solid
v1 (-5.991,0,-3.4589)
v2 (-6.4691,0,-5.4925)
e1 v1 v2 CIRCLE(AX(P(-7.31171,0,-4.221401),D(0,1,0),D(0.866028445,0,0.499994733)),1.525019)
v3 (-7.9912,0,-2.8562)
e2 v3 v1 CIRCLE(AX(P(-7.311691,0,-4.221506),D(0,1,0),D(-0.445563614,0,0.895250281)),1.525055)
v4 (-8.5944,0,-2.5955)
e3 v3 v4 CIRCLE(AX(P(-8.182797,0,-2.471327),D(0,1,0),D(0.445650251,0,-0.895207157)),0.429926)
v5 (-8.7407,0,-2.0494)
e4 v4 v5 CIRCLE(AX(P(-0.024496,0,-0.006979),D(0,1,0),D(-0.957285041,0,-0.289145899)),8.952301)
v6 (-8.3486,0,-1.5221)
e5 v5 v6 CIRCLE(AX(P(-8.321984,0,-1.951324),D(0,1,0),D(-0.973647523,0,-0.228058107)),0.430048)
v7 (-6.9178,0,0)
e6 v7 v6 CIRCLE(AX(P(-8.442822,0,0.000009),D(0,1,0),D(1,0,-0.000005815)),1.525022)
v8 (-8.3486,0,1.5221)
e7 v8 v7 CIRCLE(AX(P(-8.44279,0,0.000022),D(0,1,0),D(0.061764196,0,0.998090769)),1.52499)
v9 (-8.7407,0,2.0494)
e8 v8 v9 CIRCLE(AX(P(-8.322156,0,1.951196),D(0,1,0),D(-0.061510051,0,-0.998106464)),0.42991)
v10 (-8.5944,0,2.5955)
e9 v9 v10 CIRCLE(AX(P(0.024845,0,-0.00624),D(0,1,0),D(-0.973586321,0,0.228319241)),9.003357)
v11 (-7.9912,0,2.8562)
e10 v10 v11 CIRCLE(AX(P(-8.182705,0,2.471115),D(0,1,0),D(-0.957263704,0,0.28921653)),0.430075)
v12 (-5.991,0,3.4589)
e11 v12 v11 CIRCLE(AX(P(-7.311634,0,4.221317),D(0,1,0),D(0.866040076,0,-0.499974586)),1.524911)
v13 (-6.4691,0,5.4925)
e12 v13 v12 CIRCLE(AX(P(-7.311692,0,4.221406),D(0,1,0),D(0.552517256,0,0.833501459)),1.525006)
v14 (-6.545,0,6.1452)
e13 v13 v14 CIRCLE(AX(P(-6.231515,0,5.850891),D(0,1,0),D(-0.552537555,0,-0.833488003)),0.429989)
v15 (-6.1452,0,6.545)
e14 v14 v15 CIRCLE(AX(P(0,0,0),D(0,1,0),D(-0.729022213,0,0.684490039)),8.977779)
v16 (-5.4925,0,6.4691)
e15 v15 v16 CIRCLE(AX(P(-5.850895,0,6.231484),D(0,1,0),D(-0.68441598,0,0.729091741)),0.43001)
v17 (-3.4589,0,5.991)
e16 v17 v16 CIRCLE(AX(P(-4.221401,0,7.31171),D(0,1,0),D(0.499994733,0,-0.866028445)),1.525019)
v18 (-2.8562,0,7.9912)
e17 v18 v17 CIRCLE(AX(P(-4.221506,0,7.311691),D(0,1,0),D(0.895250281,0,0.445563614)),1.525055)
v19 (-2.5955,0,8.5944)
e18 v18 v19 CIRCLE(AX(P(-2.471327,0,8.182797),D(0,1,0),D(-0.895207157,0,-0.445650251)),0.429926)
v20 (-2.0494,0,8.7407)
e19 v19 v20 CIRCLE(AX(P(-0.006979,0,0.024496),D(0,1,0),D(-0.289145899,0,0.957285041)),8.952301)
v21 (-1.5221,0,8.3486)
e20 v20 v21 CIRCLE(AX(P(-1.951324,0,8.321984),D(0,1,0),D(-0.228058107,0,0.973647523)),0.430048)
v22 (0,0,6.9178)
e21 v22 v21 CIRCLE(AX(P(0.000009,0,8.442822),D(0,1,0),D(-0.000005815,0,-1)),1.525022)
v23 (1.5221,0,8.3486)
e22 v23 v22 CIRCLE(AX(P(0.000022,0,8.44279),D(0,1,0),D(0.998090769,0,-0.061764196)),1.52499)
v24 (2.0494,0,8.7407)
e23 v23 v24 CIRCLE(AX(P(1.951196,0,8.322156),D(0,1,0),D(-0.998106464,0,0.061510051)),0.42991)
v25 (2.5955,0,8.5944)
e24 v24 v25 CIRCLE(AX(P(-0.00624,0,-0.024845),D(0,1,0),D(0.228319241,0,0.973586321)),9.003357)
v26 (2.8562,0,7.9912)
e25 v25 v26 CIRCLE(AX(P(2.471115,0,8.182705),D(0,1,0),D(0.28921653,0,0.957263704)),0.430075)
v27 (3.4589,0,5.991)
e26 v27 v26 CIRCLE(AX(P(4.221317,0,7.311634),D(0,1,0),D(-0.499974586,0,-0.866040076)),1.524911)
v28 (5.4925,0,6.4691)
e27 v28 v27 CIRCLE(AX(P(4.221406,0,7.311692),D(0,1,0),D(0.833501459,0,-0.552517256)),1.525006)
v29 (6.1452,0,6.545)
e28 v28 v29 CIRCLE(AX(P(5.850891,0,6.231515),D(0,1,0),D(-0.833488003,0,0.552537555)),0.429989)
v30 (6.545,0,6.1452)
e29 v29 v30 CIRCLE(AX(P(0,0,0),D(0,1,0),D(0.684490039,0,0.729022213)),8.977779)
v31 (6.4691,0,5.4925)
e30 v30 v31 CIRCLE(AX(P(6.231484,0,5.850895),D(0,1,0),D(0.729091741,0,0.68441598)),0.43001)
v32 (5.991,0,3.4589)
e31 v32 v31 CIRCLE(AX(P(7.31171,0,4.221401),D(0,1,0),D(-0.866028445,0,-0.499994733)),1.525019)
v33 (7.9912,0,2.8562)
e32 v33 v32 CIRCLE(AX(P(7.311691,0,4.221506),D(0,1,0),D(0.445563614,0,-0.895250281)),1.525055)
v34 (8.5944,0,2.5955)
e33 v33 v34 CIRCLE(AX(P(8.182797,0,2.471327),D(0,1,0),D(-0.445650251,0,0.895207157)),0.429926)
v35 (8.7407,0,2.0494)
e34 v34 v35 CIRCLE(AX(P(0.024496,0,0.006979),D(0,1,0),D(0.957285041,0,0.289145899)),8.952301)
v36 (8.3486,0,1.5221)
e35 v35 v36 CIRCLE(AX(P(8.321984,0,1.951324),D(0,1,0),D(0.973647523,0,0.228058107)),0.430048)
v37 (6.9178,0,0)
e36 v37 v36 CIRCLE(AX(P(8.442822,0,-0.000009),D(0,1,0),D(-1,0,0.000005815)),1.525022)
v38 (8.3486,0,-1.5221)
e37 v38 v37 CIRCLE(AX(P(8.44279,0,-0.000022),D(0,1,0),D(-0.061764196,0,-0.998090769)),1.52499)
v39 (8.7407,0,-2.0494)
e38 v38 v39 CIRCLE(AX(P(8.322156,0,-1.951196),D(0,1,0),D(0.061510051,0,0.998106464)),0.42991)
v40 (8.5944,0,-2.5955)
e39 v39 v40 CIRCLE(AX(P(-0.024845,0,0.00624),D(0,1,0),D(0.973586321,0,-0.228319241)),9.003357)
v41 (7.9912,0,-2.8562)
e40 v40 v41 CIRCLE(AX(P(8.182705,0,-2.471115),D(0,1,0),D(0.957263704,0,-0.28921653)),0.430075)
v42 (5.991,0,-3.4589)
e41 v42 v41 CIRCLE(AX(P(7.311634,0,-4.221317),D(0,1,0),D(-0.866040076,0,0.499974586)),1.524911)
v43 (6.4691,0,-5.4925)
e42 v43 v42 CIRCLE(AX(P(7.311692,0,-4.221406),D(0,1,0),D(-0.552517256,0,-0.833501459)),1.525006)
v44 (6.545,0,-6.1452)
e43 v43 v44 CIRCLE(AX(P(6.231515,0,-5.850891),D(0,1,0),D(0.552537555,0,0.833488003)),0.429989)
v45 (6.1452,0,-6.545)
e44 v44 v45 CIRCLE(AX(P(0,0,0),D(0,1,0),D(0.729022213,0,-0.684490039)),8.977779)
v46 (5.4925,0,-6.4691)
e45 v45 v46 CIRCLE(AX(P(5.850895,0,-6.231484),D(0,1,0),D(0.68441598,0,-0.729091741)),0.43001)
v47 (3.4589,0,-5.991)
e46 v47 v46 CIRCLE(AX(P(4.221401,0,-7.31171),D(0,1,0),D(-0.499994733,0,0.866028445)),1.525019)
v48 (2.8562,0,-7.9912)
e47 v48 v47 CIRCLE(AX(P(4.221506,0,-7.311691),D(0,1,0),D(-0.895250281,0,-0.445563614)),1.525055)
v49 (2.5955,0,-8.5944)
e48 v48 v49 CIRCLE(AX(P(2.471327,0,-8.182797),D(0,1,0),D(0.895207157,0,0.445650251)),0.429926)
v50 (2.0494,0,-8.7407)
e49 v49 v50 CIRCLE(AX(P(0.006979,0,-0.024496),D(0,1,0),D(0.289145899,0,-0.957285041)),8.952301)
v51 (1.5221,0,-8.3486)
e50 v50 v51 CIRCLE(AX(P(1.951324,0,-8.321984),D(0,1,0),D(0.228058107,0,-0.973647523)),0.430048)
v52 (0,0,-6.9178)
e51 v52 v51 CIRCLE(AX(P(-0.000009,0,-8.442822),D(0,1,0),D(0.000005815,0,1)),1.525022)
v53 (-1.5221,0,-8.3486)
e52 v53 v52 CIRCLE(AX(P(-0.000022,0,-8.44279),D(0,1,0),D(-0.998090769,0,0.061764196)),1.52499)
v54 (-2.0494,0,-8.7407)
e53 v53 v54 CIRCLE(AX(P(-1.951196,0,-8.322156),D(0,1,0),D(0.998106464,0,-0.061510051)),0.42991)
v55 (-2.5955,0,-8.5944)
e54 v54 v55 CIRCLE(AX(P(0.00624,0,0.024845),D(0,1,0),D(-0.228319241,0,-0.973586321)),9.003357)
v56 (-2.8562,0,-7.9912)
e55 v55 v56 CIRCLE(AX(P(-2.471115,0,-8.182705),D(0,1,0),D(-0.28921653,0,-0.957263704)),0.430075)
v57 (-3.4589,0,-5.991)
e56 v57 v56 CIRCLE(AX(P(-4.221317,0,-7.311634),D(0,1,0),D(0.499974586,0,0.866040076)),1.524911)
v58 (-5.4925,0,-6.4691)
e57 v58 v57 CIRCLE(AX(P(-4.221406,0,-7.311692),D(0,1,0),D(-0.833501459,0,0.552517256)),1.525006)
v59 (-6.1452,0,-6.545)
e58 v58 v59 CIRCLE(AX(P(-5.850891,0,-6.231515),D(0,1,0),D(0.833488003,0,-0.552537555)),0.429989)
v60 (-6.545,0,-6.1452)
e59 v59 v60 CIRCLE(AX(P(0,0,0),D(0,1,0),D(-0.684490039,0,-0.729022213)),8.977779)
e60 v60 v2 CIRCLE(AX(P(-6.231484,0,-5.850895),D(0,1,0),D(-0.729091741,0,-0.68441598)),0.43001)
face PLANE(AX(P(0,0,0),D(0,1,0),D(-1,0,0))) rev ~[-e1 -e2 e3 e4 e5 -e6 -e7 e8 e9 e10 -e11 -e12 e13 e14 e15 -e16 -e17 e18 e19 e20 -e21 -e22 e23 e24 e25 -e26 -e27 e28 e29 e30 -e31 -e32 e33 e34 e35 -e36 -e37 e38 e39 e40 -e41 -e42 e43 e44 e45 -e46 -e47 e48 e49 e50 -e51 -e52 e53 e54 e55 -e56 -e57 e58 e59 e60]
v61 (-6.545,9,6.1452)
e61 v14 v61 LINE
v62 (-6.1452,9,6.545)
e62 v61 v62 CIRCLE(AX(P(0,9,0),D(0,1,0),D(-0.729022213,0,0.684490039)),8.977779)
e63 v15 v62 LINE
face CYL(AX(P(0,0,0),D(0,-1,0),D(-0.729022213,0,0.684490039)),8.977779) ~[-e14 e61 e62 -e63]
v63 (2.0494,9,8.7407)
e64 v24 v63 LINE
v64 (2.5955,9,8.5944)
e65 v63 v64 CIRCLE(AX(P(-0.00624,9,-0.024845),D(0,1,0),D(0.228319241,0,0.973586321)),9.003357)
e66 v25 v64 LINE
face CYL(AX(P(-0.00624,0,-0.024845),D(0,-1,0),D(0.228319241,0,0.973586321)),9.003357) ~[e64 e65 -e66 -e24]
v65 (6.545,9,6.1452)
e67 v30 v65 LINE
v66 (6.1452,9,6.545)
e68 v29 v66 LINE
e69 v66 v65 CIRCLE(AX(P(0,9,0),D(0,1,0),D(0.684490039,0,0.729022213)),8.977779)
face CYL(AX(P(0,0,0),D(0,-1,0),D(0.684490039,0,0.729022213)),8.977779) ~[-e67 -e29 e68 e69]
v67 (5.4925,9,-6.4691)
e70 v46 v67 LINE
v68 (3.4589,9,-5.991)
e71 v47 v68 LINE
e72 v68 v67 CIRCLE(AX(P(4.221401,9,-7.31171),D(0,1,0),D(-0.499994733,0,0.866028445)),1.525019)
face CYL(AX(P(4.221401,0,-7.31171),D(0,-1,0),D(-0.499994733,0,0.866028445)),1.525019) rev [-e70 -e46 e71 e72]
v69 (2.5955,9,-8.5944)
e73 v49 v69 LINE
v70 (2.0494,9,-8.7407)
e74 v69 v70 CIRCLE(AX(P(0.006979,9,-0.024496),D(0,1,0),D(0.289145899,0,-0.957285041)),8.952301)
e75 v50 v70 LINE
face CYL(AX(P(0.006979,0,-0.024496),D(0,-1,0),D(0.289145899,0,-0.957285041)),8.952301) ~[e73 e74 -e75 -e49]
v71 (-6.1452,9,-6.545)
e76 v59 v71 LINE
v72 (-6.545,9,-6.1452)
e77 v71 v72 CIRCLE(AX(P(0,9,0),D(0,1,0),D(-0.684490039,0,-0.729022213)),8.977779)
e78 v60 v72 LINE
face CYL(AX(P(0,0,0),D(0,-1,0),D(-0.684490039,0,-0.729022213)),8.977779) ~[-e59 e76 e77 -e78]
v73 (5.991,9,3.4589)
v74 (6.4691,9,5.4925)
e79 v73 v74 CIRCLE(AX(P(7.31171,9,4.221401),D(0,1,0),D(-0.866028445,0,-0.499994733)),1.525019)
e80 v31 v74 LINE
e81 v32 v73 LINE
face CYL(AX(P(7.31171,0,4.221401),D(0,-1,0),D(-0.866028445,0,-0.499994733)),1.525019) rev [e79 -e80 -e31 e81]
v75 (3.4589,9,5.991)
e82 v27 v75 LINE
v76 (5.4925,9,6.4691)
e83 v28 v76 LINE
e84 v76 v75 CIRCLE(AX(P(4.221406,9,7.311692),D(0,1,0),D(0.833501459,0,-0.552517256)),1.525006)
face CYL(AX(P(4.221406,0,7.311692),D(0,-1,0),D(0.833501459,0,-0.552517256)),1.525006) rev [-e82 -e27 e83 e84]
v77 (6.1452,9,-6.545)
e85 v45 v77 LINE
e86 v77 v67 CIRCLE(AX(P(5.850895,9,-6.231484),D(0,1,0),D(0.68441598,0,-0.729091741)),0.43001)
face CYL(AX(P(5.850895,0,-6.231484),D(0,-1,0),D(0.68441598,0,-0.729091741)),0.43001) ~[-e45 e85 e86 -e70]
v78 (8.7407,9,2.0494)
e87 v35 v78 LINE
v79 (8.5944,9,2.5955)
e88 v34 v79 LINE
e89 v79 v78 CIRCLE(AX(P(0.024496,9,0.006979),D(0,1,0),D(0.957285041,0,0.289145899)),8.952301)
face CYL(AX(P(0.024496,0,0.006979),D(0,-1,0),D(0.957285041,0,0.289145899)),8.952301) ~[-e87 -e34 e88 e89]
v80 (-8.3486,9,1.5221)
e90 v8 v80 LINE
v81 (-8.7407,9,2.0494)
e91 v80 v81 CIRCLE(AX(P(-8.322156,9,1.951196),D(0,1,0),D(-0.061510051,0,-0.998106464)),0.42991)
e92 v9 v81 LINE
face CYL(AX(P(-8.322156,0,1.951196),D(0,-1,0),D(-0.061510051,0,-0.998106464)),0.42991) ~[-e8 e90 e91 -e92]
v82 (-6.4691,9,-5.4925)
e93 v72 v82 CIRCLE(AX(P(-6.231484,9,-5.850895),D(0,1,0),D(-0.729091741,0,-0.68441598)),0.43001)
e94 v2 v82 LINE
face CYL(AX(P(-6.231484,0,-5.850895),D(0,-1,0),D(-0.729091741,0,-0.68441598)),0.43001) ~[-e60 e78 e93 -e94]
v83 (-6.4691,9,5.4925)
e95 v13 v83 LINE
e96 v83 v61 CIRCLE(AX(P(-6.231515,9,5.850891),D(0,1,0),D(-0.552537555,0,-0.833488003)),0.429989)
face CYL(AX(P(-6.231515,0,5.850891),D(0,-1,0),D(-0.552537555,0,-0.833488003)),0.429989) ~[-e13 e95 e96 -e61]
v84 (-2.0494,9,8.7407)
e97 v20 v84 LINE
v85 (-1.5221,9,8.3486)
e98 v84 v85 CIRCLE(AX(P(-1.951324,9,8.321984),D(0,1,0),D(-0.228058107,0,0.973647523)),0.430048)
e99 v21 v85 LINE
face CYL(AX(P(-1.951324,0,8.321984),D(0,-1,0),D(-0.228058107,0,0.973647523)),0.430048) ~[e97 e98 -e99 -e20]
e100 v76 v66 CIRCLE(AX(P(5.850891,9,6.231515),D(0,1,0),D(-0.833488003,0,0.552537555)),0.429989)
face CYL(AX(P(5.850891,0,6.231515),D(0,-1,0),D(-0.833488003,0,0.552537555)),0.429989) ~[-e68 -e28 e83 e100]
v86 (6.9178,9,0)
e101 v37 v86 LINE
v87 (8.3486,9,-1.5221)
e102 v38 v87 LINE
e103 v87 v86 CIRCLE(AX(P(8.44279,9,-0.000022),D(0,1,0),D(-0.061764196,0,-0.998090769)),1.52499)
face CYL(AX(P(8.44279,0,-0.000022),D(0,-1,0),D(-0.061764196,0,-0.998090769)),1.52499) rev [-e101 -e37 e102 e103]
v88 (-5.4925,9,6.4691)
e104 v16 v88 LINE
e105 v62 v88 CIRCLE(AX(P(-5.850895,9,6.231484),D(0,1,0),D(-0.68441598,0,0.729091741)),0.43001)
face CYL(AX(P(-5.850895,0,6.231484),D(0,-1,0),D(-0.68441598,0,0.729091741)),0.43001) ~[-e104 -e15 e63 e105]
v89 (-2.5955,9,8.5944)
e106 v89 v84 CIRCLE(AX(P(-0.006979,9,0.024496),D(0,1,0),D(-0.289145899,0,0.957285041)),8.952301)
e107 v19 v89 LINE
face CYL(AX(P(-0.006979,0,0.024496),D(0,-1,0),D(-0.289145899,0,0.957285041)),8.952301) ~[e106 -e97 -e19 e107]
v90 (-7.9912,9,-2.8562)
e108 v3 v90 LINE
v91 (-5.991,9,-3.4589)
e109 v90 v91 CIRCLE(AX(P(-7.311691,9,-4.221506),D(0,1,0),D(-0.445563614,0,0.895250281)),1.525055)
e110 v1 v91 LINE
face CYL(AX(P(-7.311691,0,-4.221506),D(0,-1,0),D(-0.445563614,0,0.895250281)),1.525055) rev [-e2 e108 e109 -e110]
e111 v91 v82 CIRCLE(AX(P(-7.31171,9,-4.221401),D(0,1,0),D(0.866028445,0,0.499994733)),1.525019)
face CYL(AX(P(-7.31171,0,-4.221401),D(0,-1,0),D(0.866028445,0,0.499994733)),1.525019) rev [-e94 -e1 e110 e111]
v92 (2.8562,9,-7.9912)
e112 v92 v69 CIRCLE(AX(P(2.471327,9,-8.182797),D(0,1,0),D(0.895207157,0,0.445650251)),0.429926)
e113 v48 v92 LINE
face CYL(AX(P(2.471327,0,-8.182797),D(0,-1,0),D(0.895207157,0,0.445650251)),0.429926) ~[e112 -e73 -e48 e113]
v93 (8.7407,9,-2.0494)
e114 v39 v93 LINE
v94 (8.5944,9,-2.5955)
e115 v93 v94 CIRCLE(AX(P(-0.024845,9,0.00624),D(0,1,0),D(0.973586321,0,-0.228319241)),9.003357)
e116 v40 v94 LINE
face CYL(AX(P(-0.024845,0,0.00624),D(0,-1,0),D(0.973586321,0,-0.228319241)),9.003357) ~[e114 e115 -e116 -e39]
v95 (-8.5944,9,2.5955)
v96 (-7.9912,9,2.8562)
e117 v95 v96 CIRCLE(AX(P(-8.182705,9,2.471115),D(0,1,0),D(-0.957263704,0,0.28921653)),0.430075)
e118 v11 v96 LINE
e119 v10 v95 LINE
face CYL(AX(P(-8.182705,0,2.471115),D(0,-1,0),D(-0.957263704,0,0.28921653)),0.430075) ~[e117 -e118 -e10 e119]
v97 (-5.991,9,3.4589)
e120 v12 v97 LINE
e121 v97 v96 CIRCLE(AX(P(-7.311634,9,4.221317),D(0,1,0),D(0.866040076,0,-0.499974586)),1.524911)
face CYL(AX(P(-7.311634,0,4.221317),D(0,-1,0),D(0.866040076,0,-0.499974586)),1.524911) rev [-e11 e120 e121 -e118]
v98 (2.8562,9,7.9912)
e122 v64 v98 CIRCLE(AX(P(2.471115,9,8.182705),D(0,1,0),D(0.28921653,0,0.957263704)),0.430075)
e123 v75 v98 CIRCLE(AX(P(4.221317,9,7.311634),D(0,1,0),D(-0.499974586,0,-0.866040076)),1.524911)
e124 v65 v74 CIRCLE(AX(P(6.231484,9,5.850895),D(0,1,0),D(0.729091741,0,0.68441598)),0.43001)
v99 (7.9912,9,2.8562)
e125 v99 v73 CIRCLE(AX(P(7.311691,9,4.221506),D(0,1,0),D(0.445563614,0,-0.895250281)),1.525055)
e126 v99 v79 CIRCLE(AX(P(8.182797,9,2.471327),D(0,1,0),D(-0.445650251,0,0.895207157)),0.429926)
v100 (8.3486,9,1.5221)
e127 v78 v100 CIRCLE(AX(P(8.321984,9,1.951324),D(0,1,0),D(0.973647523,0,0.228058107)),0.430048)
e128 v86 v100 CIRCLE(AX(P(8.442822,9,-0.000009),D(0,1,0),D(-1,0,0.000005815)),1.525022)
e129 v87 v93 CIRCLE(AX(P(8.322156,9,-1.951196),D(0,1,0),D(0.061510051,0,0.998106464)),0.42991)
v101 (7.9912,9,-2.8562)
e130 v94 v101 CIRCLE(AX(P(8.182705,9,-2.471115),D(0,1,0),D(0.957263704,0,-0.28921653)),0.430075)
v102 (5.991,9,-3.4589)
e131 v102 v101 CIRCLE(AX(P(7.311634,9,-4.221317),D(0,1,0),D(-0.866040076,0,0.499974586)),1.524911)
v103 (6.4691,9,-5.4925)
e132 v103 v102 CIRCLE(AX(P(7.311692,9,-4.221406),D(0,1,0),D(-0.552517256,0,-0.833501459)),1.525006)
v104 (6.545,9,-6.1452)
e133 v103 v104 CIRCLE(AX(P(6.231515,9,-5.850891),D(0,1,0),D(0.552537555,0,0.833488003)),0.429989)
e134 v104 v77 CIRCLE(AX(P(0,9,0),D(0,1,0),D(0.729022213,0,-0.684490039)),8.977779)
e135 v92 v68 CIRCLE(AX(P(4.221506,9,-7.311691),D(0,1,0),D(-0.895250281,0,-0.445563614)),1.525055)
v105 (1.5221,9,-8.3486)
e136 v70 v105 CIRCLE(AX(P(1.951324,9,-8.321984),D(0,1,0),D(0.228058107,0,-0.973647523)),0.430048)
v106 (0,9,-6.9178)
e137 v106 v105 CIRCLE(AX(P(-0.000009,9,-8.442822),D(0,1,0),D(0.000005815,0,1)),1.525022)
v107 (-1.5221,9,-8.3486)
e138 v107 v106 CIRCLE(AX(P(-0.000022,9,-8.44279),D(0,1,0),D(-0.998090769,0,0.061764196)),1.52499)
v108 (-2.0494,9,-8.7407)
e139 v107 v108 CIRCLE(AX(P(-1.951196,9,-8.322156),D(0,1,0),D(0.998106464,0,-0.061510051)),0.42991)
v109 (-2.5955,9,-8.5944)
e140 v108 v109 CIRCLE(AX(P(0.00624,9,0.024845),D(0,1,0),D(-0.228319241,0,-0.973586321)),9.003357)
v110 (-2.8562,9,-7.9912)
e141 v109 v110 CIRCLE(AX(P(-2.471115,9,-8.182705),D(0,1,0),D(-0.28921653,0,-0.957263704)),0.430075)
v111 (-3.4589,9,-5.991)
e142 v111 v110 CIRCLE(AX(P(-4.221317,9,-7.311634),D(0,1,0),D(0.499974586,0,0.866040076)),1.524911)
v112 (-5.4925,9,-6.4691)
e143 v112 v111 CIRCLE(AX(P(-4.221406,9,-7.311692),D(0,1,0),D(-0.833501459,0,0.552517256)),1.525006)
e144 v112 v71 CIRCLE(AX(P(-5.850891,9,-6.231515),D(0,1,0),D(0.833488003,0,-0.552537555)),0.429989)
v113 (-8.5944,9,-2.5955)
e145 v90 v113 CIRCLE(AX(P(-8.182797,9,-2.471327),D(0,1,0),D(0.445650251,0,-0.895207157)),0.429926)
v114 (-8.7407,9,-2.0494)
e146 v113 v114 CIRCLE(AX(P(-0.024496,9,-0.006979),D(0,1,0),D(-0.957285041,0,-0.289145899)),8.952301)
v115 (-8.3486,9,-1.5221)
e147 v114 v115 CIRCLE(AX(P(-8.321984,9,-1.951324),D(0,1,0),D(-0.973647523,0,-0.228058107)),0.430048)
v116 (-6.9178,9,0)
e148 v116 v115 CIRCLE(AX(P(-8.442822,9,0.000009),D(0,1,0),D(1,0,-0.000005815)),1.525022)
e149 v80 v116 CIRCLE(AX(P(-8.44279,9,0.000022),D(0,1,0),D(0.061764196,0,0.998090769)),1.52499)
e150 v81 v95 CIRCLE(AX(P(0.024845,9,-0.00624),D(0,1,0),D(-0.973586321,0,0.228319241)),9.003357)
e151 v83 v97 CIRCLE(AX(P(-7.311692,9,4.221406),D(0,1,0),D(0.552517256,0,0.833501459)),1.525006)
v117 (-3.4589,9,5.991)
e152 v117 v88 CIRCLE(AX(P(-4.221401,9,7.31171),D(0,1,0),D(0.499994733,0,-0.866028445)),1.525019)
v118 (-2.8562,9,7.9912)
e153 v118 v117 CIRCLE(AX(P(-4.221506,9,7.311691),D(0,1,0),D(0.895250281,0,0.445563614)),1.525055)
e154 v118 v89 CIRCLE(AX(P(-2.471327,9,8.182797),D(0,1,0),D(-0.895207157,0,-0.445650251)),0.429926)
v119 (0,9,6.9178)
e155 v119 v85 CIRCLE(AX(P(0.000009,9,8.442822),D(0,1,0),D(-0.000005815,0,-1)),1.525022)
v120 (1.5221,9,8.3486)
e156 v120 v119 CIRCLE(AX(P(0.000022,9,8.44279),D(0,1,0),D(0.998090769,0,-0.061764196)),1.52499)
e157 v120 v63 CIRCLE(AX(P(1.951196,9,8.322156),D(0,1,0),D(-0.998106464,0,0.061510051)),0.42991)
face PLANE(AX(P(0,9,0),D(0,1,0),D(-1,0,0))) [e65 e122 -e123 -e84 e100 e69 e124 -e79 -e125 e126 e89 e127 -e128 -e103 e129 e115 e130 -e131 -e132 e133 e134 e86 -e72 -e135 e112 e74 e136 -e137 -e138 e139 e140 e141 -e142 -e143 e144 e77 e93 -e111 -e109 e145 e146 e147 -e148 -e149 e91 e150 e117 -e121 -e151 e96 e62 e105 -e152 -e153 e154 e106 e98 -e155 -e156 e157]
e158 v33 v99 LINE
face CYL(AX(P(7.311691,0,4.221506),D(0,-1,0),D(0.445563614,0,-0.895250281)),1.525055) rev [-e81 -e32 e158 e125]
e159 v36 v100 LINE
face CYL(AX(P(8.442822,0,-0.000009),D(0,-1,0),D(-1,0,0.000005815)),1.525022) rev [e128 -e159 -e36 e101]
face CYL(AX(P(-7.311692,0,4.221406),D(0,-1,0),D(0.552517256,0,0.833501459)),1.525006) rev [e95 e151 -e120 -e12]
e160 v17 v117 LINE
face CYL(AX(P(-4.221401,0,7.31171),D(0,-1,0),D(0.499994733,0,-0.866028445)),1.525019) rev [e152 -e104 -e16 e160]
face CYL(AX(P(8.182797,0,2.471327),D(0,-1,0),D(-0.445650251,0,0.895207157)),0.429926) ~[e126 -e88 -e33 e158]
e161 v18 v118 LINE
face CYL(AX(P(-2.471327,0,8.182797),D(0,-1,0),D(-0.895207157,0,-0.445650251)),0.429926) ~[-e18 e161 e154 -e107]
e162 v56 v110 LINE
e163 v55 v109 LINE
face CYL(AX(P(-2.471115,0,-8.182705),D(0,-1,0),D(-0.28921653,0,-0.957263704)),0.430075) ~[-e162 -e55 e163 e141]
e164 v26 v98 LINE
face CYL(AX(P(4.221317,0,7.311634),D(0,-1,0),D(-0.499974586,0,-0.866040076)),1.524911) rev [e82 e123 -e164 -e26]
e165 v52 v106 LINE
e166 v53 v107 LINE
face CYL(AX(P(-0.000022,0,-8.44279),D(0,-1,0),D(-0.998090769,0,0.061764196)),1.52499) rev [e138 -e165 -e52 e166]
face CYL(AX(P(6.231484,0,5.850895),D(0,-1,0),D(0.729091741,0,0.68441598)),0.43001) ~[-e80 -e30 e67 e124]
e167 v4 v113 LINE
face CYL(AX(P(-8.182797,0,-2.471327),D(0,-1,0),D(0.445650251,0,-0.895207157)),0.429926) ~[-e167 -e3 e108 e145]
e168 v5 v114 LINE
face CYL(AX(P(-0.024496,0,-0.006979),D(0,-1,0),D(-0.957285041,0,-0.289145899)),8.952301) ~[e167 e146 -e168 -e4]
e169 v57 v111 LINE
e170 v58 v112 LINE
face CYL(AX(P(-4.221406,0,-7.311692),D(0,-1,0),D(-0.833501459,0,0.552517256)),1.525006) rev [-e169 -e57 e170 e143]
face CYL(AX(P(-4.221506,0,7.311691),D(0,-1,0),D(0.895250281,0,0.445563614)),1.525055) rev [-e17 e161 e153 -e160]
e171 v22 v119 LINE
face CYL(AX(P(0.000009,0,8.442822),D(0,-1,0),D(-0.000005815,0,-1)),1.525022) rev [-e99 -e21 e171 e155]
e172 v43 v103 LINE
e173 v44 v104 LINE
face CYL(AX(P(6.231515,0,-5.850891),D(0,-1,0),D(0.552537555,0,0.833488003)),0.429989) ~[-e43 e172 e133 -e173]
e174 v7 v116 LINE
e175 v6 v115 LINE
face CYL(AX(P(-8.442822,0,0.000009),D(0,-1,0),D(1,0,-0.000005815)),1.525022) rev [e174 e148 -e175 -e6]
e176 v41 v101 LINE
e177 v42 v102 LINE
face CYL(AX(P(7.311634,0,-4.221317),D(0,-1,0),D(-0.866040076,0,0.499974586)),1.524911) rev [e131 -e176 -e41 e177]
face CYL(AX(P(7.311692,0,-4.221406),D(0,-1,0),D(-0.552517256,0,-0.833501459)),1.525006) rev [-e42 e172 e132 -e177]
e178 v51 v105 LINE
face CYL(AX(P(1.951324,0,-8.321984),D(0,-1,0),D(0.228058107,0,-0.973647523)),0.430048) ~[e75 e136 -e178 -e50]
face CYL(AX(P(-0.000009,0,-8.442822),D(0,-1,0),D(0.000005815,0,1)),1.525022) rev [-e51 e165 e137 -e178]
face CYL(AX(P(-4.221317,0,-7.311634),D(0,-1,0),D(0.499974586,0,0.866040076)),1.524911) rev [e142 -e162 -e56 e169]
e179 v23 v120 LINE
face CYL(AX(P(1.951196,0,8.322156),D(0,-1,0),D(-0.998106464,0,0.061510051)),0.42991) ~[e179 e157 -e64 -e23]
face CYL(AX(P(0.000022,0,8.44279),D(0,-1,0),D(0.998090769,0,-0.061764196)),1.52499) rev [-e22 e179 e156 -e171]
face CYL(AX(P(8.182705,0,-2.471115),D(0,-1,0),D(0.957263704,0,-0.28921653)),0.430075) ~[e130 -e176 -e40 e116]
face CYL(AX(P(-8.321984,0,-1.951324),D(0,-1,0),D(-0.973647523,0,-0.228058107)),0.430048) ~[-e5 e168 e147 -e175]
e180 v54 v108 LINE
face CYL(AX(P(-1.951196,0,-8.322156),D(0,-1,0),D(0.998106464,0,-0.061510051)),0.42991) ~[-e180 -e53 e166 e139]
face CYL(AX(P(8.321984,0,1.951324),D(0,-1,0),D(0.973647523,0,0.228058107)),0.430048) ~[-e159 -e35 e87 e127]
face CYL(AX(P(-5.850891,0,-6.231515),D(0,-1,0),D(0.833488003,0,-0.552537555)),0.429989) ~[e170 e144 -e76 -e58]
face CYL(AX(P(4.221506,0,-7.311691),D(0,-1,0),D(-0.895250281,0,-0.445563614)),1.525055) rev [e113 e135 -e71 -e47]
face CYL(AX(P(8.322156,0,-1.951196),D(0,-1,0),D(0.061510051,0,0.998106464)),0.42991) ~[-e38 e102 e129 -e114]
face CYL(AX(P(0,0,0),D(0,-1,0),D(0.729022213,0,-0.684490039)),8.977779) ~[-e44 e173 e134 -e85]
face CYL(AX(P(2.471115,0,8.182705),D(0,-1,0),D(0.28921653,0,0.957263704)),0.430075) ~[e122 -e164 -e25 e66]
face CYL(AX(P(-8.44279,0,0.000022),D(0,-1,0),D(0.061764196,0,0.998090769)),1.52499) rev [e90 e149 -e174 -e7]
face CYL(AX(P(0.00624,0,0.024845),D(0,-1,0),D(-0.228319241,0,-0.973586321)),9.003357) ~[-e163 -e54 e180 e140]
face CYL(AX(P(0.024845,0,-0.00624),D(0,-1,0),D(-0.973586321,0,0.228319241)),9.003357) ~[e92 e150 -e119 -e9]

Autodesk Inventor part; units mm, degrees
ref_plane "YZ Plane" through (0, 0, 0) normal (1, 0, 0) x (0, 1, 0)
ref_plane "XZ Plane" through (0, 0, 0) normal (0, 1, 0) x (-1, 0, 0)
ref_plane "XY Plane" through (0, 0, 0) normal (0, 0, 1) x (1, 0, 0)
sketch "Sketch2" plane through (0, 0, 0) normal (0, 1, 0) x (-1, 0, 0)
  circle A0 centre (0, 0) radius 8.9778 construction
  circle A1 centre (0, 0) radius 6.9178 construction
  arc A2 (0, -6.9178) -> (-1.5221, -8.3486) centre (0, -8.4428) ccw
  line L0 (0, 0) -> (0, -8.9778) construction
  line L1 (0, 0) -> (-2.3236, -8.6719) construction
  arc A3 (-2.0494, -8.7407) -> (-1.5221, -8.3486) centre (-1.9513, -8.3221) ccw
  arc A4 (-2.8562, -7.9912) -> (-3.4589, -5.991) centre (-4.2214, -7.3117) ccw
  arc A5 (-2.8562, -7.9912) -> (-2.5955, -8.5944) centre (-2.4712, -8.1828) ccw
  arc A6 (-2.5955, -8.5944) -> (-2.0494, -8.7407) centre (0, 0) ccw
  arc A7 (2.5955, -8.5944) -> (2.8562, -7.9912) centre (2.4712, -8.1828) ccw
  arc A8 (1.5221, -8.3486) -> (0, -6.9178) centre (0, -8.4428) ccw
  arc A9 (1.5221, -8.3486) -> (2.0494, -8.7407) centre (1.9513, -8.3221) ccw
  arc A10 (2.0494, -8.7407) -> (2.5955, -8.5944) centre (0, 0) ccw
  arc A11 (3.4589, -5.991) -> (2.8562, -7.9912) centre (4.2214, -7.3117) ccw
  arc A12 (6.545, -6.1452) -> (6.4691, -5.4925) centre (6.2315, -5.8509) ccw
  arc A13 (5.4925, -6.4691) -> (3.4589, -5.991) centre (4.2214, -7.3117) ccw
  arc A14 (5.4925, -6.4691) -> (6.1452, -6.545) centre (5.8509, -6.2315) ccw
  arc A15 (6.1452, -6.545) -> (6.545, -6.1452) centre (0, 0) ccw
  arc A16 (5.991, -3.4589) -> (6.4691, -5.4925) centre (7.3117, -4.2214) ccw
  arc A17 (8.7407, -2.0494) -> (8.3486, -1.5221) centre (8.3221, -1.9513) ccw
  arc A18 (7.9912, -2.8562) -> (5.991, -3.4589) centre (7.3117, -4.2214) ccw
  arc A19 (7.9912, -2.8562) -> (8.5944, -2.5955) centre (8.1828, -2.4712) ccw
  arc A20 (8.5944, -2.5955) -> (8.7407, -2.0494) centre (0, 0) ccw
  arc A21 (6.9178, 0) -> (8.3486, -1.5221) centre (8.4428, 0) ccw
  arc A22 (8.5944, 2.5955) -> (7.9912, 2.8562) centre (8.1828, 2.4712) ccw
  arc A23 (8.3486, 1.5221) -> (6.9178, 0) centre (8.4428, 0) ccw
  arc A24 (8.3486, 1.5221) -> (8.7407, 2.0494) centre (8.3221, 1.9513) ccw
  arc A25 (8.7407, 2.0494) -> (8.5944, 2.5955) centre (0, 0) ccw
  arc A26 (5.991, 3.4589) -> (7.9912, 2.8562) centre (7.3117, 4.2214) ccw
  arc A27 (6.1452, 6.545) -> (5.4925, 6.4691) centre (5.8509, 6.2315) ccw
  arc A28 (6.4691, 5.4925) -> (5.991, 3.4589) centre (7.3117, 4.2214) ccw
  arc A29 (6.4691, 5.4925) -> (6.545, 6.1452) centre (6.2315, 5.8509) ccw
  arc A30 (6.545, 6.1452) -> (6.1452, 6.545) centre (0, 0) ccw
  arc A31 (3.4589, 5.991) -> (5.4925, 6.4691) centre (4.2214, 7.3117) ccw
  arc A32 (2.0494, 8.7407) -> (1.5221, 8.3486) centre (1.9513, 8.3221) ccw
  arc A33 (2.8562, 7.9912) -> (3.4589, 5.991) centre (4.2214, 7.3117) ccw
  arc A34 (2.8562, 7.9912) -> (2.5955, 8.5944) centre (2.4712, 8.1828) ccw
  arc A35 (2.5955, 8.5944) -> (2.0494, 8.7407) centre (0, 0) ccw
  arc A36 (0, 6.9178) -> (1.5221, 8.3486) centre (0, 8.4428) ccw
  arc A37 (-2.5955, 8.5944) -> (-2.8562, 7.9912) centre (-2.4712, 8.1828) ccw
  arc A38 (-1.5221, 8.3486) -> (0, 6.9178) centre (0, 8.4428) ccw
  arc A39 (-1.5221, 8.3486) -> (-2.0494, 8.7407) centre (-1.9513, 8.3221) ccw
  arc A40 (-2.0494, 8.7407) -> (-2.5955, 8.5944) centre (0, 0) ccw
  arc A41 (-3.4589, 5.991) -> (-2.8562, 7.9912) centre (-4.2214, 7.3117) ccw
  arc A42 (-6.545, 6.1452) -> (-6.4691, 5.4925) centre (-6.2315, 5.8509) ccw
  arc A43 (-5.4925, 6.4691) -> (-3.4589, 5.991) centre (-4.2214, 7.3117) ccw
  arc A44 (-5.4925, 6.4691) -> (-6.1452, 6.545) centre (-5.8509, 6.2315) ccw
  arc A45 (-6.1452, 6.545) -> (-6.545, 6.1452) centre (0, 0) ccw
  arc A46 (-5.991, 3.4589) -> (-6.4691, 5.4925) centre (-7.3117, 4.2214) ccw
  arc A47 (-8.7407, 2.0494) -> (-8.3486, 1.5221) centre (-8.3221, 1.9513) ccw
  arc A48 (-7.9912, 2.8562) -> (-5.991, 3.4589) centre (-7.3117, 4.2214) ccw
  arc A49 (-7.9912, 2.8562) -> (-8.5944, 2.5955) centre (-8.1828, 2.4712) ccw
  arc A50 (-8.5944, 2.5955) -> (-8.7407, 2.0494) centre (0, 0) ccw
  arc A51 (-6.9178, 0) -> (-8.3486, 1.5221) centre (-8.4428, 0) ccw
  arc A52 (-8.5944, -2.5955) -> (-7.9912, -2.8562) centre (-8.1828, -2.4712) ccw
  arc A53 (-8.3486, -1.5221) -> (-6.9178, 0) centre (-8.4428, 0) ccw
  arc A54 (-8.3486, -1.5221) -> (-8.7407, -2.0494) centre (-8.3221, -1.9513) ccw
  arc A55 (-8.7407, -2.0494) -> (-8.5944, -2.5955) centre (0, 0) ccw
  arc A56 (-5.991, -3.4589) -> (-7.9912, -2.8562) centre (-7.3117, -4.2214) ccw
  arc A57 (-6.1452, -6.545) -> (-5.4925, -6.4691) centre (-5.8509, -6.2315) ccw
  arc A58 (-6.4691, -5.4925) -> (-5.991, -3.4589) centre (-7.3117, -4.2214) ccw
  arc A59 (-6.4691, -5.4925) -> (-6.545, -6.1452) centre (-6.2315, -5.8509) ccw
  arc A60 (-6.545, -6.1452) -> (-6.1452, -6.545) centre (0, 0) ccw
  arc A61 (-3.4589, -5.991) -> (-5.4925, -6.4691) centre (-4.2214, -7.3117) ccw
  point P0 (2.3236, -8.6719)
  point P1 (6.3483, -6.3483)
  point P2 (8.6719, -2.3236)
  point P3 (8.6719, 2.3236)
  point P4 (6.3483, 6.3483)
  point P5 (2.3236, 8.6719)
  point P6 (-2.3236, 8.6719)
  point P7 (-6.3483, 6.3483)
  point P8 (-8.6719, 2.3236)
  point P9 (3.4589, -5.991)
  point P10 (6.9178, 0)
  point P11 (5.991, 3.4589)
  point P12 (3.4589, 5.991)
  point P13 (0, 6.9178)
  point P14 (-5.991, 3.4589)
  point P15 (-3.1307, -4.309)
  point P16 (0, -6.9178)
  point P17 (-8.6719, -2.3236)
  point P18 (-6.3483, -6.3483)
  dimension "d1" = 13.8356
  dimension "d2" = 17.9556
  dimension "d3" = 15
  dimension "d4" = 3.05
  dimension "d5" = 0.86
  dimension "d8" = 360
extrude "Extrusion1" add sketch "Sketch2" along normal blind 9
properties part number "5mm_HTD_Pully"
